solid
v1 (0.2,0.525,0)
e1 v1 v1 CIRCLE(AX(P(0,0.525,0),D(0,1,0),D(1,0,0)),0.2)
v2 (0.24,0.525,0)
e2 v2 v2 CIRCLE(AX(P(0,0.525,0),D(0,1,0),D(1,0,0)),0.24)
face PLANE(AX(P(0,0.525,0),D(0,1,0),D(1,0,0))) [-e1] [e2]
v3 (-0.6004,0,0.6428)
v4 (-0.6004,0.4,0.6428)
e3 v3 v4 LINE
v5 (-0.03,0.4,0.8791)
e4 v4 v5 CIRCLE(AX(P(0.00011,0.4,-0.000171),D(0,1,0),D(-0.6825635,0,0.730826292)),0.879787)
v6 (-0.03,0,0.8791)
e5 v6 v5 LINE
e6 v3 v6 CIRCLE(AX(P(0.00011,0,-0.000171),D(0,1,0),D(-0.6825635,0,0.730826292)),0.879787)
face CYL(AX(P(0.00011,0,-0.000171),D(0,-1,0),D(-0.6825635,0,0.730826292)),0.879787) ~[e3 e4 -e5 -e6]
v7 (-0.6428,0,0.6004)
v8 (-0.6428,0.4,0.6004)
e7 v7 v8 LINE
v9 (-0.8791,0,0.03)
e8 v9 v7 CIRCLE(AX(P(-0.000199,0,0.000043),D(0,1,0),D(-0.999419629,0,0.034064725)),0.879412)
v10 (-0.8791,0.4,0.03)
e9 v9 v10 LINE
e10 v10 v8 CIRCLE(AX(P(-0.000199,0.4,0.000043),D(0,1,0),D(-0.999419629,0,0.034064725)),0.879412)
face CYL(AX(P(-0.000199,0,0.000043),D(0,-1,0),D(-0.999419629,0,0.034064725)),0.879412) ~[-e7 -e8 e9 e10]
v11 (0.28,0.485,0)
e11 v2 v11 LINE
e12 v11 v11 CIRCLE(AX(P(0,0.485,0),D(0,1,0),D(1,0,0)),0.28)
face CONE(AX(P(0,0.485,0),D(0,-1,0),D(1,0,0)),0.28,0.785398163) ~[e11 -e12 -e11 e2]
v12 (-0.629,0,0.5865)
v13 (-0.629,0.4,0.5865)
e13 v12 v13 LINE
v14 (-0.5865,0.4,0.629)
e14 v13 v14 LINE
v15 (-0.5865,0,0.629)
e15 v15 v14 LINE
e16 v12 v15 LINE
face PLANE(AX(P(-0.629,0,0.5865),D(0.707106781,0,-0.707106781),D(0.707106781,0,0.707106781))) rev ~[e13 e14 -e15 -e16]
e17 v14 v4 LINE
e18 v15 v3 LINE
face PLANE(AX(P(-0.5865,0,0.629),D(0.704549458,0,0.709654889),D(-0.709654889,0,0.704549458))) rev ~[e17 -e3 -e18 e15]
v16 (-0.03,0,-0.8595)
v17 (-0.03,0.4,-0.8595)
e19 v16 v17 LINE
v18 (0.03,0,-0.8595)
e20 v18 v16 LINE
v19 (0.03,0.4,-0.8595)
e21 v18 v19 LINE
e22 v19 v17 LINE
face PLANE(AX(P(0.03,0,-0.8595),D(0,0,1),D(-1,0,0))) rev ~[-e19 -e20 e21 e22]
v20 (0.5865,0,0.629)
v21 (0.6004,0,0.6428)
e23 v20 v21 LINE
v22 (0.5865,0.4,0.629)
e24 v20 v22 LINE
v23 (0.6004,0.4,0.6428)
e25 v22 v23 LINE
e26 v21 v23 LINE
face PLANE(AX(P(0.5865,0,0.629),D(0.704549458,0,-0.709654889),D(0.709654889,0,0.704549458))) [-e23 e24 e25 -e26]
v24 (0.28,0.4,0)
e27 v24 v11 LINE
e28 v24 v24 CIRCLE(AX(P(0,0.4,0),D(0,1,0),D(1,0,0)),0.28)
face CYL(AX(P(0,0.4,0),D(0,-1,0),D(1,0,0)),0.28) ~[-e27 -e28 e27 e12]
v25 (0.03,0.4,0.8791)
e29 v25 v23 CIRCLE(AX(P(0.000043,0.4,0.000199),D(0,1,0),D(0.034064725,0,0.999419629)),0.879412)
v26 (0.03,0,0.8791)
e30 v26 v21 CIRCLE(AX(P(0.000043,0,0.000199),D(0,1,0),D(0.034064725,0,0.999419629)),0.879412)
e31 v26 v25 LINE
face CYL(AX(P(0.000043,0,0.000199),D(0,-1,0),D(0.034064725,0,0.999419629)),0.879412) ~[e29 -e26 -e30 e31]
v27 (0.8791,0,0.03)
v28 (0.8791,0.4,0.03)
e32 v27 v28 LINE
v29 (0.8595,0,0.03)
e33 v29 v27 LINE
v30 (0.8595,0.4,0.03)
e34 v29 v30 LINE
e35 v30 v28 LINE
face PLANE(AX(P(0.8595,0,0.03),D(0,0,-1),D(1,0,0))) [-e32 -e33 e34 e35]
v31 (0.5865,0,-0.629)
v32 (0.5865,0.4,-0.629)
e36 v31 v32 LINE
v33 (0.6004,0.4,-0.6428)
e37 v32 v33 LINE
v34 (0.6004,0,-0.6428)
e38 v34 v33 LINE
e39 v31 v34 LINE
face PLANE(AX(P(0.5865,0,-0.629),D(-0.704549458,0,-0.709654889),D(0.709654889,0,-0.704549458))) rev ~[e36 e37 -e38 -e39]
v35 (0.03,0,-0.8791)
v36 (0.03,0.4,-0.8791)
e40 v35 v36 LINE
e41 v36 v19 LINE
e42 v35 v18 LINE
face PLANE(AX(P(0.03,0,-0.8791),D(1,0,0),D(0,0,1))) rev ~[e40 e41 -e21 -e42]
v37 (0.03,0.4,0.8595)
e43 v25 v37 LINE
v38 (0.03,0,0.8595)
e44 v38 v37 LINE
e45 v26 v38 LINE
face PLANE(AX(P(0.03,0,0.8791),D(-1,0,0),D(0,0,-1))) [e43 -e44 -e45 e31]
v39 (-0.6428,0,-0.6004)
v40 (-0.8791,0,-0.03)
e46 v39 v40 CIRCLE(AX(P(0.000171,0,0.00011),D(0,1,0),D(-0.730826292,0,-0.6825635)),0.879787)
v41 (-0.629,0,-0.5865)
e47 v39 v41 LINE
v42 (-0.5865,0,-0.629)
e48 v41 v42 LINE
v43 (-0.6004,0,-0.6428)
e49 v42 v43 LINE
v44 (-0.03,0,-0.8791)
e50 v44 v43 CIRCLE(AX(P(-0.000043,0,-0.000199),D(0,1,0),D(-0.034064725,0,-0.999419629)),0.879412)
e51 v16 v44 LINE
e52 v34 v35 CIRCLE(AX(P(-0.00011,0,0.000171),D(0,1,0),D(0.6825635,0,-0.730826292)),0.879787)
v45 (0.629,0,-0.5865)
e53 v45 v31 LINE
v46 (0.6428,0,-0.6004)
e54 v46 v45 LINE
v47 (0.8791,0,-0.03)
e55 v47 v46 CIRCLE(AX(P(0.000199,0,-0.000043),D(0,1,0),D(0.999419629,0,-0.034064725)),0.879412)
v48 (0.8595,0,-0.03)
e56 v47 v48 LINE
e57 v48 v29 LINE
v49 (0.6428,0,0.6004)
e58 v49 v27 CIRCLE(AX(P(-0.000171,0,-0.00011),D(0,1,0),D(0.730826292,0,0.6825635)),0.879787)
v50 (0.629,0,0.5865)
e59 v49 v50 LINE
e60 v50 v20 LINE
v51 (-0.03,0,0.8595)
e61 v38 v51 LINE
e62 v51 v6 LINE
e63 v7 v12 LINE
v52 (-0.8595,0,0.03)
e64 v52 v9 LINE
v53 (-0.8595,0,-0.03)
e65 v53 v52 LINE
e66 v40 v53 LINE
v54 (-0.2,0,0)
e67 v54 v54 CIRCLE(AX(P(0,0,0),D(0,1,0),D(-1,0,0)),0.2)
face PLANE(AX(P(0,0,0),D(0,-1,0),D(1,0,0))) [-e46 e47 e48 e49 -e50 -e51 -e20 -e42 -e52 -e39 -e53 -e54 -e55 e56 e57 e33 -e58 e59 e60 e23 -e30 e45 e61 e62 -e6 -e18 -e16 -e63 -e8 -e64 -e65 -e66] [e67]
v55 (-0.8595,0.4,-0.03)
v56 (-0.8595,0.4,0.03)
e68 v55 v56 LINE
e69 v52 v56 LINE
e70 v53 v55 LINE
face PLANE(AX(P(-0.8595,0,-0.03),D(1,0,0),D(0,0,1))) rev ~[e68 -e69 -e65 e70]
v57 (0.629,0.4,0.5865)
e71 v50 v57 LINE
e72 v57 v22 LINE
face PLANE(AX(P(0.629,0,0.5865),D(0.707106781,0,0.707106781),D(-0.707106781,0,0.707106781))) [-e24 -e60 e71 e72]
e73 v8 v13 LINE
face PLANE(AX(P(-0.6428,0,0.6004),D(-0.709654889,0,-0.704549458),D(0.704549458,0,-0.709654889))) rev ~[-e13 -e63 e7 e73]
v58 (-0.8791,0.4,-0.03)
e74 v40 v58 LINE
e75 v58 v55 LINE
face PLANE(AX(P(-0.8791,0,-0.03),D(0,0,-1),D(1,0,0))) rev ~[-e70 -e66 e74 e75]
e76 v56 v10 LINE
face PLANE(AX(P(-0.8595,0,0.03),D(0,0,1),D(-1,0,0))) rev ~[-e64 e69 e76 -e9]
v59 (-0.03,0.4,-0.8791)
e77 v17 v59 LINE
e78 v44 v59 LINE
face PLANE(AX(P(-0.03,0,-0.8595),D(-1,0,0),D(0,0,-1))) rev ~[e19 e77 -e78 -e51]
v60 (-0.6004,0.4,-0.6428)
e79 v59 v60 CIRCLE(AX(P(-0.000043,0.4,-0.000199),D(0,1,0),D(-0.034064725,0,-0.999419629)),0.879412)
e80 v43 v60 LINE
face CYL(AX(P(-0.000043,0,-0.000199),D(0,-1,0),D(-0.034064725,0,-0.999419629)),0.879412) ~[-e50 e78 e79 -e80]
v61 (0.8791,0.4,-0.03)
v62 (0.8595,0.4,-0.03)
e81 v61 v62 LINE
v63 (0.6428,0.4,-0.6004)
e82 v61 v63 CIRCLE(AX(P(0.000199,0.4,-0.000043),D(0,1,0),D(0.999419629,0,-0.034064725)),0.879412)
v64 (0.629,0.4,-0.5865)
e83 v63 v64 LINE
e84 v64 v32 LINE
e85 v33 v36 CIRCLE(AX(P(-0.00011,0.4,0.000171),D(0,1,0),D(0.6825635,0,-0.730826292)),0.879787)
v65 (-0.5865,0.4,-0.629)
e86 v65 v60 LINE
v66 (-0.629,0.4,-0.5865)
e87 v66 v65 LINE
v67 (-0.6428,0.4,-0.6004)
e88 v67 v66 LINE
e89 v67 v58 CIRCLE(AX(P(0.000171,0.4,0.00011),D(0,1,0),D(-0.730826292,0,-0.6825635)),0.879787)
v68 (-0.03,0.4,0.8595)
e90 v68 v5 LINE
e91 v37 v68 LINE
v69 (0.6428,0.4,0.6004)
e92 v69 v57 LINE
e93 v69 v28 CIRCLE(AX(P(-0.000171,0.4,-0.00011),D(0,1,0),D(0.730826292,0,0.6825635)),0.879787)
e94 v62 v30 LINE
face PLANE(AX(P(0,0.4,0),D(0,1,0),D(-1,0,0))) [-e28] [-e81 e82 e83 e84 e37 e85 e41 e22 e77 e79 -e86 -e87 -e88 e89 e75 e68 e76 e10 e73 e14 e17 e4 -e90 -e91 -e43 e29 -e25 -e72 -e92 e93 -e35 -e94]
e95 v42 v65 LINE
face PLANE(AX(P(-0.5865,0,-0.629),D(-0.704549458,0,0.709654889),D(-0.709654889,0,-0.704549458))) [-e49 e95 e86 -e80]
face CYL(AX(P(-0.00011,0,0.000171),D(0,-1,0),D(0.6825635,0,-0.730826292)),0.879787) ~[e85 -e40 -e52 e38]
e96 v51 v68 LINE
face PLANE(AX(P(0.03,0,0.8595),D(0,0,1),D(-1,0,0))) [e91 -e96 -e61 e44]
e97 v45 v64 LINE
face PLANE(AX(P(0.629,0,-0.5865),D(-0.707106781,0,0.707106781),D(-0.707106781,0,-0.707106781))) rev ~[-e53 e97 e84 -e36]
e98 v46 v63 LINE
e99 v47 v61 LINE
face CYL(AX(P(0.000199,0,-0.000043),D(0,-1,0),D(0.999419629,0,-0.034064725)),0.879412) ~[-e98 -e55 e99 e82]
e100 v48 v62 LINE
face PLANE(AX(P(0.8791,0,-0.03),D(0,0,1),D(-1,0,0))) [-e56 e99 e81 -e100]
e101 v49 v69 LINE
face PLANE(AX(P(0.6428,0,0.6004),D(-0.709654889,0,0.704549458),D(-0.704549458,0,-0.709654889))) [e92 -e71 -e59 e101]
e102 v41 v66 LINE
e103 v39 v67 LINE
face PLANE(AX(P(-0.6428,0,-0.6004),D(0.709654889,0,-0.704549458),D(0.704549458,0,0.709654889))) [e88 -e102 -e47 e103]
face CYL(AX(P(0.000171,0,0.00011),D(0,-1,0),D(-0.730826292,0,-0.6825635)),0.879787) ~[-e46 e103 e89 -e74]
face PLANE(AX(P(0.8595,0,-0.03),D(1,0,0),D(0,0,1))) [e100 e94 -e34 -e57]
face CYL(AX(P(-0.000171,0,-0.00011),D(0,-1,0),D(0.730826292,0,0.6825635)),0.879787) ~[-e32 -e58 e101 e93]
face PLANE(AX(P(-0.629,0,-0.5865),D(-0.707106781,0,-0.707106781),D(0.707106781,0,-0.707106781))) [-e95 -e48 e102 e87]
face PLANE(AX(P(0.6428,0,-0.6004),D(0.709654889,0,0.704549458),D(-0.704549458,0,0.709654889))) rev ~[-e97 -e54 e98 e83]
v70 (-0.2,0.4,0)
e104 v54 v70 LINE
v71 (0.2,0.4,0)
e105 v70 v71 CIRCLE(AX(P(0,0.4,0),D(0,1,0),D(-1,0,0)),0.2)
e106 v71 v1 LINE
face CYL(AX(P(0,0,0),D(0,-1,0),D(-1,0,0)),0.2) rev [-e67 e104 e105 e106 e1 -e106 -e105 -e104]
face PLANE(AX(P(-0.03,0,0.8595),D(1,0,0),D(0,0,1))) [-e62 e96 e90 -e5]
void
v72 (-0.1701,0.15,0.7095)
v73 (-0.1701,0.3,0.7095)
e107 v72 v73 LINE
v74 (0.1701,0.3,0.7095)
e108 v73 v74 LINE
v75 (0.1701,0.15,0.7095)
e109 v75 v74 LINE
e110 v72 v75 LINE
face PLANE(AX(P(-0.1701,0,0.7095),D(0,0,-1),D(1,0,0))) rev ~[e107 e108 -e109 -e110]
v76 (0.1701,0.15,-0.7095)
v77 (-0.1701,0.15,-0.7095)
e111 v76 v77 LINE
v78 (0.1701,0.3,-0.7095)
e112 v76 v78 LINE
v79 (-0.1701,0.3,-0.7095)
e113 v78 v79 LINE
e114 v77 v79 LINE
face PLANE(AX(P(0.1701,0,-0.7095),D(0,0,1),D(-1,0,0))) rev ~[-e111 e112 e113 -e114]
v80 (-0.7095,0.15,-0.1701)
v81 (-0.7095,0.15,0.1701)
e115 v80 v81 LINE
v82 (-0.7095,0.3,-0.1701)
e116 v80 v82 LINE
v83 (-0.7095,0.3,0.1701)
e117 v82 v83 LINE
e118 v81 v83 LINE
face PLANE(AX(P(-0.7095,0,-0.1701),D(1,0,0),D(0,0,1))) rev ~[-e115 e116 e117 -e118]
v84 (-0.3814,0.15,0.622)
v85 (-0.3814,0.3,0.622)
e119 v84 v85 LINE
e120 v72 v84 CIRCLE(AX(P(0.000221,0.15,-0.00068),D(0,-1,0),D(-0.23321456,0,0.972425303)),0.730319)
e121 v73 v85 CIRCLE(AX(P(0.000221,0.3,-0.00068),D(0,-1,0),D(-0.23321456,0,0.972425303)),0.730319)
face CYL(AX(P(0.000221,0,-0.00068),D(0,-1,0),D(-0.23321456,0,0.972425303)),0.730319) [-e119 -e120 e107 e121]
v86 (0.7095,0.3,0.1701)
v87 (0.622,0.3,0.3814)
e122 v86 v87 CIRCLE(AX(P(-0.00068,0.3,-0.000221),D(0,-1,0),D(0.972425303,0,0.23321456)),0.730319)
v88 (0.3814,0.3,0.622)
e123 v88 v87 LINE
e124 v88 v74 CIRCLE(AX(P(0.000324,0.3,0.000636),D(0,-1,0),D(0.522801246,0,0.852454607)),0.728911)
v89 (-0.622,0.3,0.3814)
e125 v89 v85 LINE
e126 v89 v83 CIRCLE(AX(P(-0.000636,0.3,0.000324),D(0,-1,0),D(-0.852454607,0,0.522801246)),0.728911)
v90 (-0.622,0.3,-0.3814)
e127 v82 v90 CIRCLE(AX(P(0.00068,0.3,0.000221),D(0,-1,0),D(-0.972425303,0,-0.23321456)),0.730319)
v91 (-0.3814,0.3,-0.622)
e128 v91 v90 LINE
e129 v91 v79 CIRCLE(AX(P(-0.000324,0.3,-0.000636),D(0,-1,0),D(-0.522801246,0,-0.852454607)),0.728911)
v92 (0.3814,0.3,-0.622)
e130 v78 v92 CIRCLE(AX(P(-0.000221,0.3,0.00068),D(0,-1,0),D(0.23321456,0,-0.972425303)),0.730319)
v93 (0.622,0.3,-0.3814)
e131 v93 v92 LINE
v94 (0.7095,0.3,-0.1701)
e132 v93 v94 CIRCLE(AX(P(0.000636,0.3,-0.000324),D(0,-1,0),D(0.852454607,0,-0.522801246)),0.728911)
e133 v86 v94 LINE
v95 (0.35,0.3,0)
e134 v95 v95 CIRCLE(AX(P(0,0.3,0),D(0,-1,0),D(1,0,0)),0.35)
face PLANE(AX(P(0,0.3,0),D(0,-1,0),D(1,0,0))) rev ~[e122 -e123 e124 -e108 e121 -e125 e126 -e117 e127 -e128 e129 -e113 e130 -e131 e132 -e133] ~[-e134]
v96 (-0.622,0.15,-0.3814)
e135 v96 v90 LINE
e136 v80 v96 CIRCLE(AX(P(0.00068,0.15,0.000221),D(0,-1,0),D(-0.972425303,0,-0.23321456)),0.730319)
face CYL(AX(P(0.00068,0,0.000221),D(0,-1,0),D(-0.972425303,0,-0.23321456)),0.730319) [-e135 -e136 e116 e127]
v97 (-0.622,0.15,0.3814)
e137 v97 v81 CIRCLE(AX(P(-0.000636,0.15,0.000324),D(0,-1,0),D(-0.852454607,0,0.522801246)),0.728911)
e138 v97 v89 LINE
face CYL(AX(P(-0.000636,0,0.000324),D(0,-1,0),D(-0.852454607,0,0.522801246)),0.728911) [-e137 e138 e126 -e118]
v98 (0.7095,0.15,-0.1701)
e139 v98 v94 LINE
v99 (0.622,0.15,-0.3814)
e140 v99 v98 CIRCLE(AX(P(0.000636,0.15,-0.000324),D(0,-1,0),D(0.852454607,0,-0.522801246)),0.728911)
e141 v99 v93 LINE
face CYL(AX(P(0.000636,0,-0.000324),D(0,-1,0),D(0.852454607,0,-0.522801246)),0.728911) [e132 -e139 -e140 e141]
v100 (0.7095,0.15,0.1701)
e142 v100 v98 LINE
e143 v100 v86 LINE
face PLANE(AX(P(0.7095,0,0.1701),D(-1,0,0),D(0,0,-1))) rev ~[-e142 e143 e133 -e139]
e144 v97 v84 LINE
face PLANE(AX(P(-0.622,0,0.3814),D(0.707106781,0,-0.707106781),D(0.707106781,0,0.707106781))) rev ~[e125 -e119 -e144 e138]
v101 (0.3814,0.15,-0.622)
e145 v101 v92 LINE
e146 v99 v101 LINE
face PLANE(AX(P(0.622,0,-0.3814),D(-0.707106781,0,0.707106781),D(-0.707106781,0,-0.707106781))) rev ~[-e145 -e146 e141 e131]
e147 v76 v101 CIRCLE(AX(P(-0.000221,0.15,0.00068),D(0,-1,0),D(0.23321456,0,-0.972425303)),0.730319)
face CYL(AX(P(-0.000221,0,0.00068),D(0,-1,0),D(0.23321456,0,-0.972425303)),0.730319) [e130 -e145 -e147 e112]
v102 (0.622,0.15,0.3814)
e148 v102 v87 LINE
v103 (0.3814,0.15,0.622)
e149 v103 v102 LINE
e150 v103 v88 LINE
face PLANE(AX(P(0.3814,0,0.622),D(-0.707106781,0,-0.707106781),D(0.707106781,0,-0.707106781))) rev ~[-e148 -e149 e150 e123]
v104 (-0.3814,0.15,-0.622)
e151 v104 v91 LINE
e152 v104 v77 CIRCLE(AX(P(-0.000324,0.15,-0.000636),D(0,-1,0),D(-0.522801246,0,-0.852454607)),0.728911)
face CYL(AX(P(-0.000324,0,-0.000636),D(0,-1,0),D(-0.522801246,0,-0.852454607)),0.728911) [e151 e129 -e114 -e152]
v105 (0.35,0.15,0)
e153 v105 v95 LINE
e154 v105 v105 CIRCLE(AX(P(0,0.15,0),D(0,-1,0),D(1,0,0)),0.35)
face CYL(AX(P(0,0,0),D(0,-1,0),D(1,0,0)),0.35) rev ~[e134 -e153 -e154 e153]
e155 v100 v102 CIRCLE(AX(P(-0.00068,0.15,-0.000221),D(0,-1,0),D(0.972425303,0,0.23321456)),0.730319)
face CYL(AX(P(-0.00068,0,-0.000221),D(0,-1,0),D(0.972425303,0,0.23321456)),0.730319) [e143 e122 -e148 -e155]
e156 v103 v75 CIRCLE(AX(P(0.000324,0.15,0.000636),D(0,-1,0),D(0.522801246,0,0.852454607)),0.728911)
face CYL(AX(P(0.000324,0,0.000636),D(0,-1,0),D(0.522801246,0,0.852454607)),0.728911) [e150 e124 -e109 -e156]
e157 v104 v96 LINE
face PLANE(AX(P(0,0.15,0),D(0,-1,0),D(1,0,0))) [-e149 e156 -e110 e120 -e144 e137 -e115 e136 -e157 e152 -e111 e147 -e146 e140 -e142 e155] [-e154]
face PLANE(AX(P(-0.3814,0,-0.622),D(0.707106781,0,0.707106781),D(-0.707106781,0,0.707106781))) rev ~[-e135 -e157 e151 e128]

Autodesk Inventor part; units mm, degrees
ref_plane "YZ Plane" through (0, 0, 0) normal (1, 0, 0) x (0, 1, 0)
ref_plane "XZ Plane" through (0, 0, 0) normal (0, 1, 0) x (-1, 0, 0)
ref_plane "XY Plane" through (0, 0, 0) normal (0, 0, 1) x (1, 0, 0)
sketch "Boceto1" plane through (0, 0, 0) normal (0, 1, 0) x (-1, 0, 0)
  circle A0 centre (0, 0) radius 0.2442
  circle A1 centre (0, 0) radius 0.28
  line L0 (-0.03, -0.8791) -> (-0.03, -0.8595)
  line L1 (-0.03, -0.8595) -> (0.03, -0.8595)
  line L2 (0.03, -0.8595) -> (0.03, -0.8791)
  line L3 (-0.6428, -0.6004) -> (-0.629, -0.5865)
  line L4 (-0.629, -0.5865) -> (-0.5865, -0.629)
  line L5 (-0.5865, -0.629) -> (-0.6004, -0.6428)
  line L6 (-0.8791, -0.03) -> (-0.8595, -0.03)
  line L7 (-0.8595, -0.03) -> (-0.8595, 0.03)
  line L8 (-0.8595, 0.03) -> (-0.8791, 0.03)
  arc A2 (-0.8791, -0.03) -> (-0.6428, -0.6004) centre (0, 0) ccw
  arc A3 (-0.6004, -0.6428) -> (-0.03, -0.8791) centre (0, 0) ccw
  line L9 (0.03, -0.8791) -> (0.03, -0.8595)
  line L10 (0.03, -0.8595) -> (-0.03, -0.8595)
  line L11 (-0.03, -0.8595) -> (-0.03, -0.8791)
  line L12 (0.6428, -0.6004) -> (0.629, -0.5865)
  line L13 (0.629, -0.5865) -> (0.5865, -0.629)
  line L14 (0.5865, -0.629) -> (0.6004, -0.6428)
  line L15 (0.8791, -0.03) -> (0.8595, -0.03)
  line L16 (0.8595, -0.03) -> (0.8595, 0.03)
  line L17 (0.8595, 0.03) -> (0.8791, 0.03)
  arc A4 (0.6428, -0.6004) -> (0.8791, -0.03) centre (0, 0) ccw
  arc A5 (0.03, -0.8791) -> (0.6004, -0.6428) centre (0, 0) ccw
  line L18 (-0.03, 0.8791) -> (-0.03, 0.8595)
  line L19 (-0.03, 0.8595) -> (0.03, 0.8595)
  line L20 (0.03, 0.8595) -> (0.03, 0.8791)
  line L21 (-0.6428, 0.6004) -> (-0.629, 0.5865)
  line L22 (-0.629, 0.5865) -> (-0.5865, 0.629)
  line L23 (-0.5865, 0.629) -> (-0.6004, 0.6428)
  line L24 (-0.8791, 0.03) -> (-0.8595, 0.03)
  line L25 (-0.8595, 0.03) -> (-0.8595, -0.03)
  line L26 (-0.8595, -0.03) -> (-0.8791, -0.03)
  arc A6 (-0.6428, 0.6004) -> (-0.8791, 0.03) centre (0, 0) ccw
  arc A7 (-0.03, 0.8791) -> (-0.6004, 0.6428) centre (0, 0) ccw
  line L27 (0.03, 0.8791) -> (0.03, 0.8595)
  line L28 (0.03, 0.8595) -> (-0.03, 0.8595)
  line L29 (-0.03, 0.8595) -> (-0.03, 0.8791)
  line L30 (0.6428, 0.6004) -> (0.629, 0.5865)
  line L31 (0.629, 0.5865) -> (0.5865, 0.629)
  line L32 (0.5865, 0.629) -> (0.6004, 0.6428)
  line L33 (0.8791, 0.03) -> (0.8595, 0.03)
  line L34 (0.8595, 0.03) -> (0.8595, -0.03)
  line L35 (0.8595, -0.03) -> (0.8791, -0.03)
  arc A8 (0.8791, 0.03) -> (0.6428, 0.6004) centre (0, 0) ccw
  arc A9 (0.6004, 0.6428) -> (0.03, 0.8791) centre (0, 0) ccw
  circle A10 centre (0, 0) radius 0.2
  point P0 (0, 0)
extrude "Extrusión1" add sketch "Boceto1" along normal blind 0.4 contours A0 | A1 | A3 L5 L4 L3 A2 L6 L7 L8 A6 L21 L22 L23 A7 L18 L19 L20 A9 L32 L31 L30 A8 L17 L16 L15 A4 L12 L13 L14 A5 L2 L1 L0
sketch "Boceto2" plane through (0, 0.4, 0) normal (0, 1, 0) x (1, 0, 0)
  circle A0 centre (0, 0) radius 0.2442
  circle A1 centre (0, 0) radius 0.28
  line L0 (-0.03, -0.8791) -> (-0.03, -0.8595)
  line L1 (-0.03, -0.8595) -> (0.03, -0.8595)
  line L2 (0.03, -0.8595) -> (0.03, -0.8791)
  line L3 (-0.6428, -0.6004) -> (-0.629, -0.5865)
  line L4 (-0.629, -0.5865) -> (-0.5865, -0.629)
  line L5 (-0.5865, -0.629) -> (-0.6004, -0.6428)
  line L6 (-0.8791, -0.03) -> (-0.8595, -0.03)
  line L7 (-0.8595, -0.03) -> (-0.8595, 0.03)
  line L8 (-0.8595, 0.03) -> (-0.8791, 0.03)
  arc A2 (-0.8791, -0.03) -> (-0.6428, -0.6004) centre (0, 0) ccw
  arc A3 (-0.6004, -0.6428) -> (-0.03, -0.8791) centre (0, 0) ccw
  line L9 (0.03, -0.8791) -> (0.03, -0.8595)
  line L10 (0.03, -0.8595) -> (-0.03, -0.8595)
  line L11 (-0.03, -0.8595) -> (-0.03, -0.8791)
  line L12 (0.6428, -0.6004) -> (0.629, -0.5865)
  line L13 (0.629, -0.5865) -> (0.5865, -0.629)
  line L14 (0.5865, -0.629) -> (0.6004, -0.6428)
  line L15 (0.8791, -0.03) -> (0.8595, -0.03)
  line L16 (0.8595, -0.03) -> (0.8595, 0.03)
  line L17 (0.8595, 0.03) -> (0.8791, 0.03)
  arc A4 (0.6428, -0.6004) -> (0.8791, -0.03) centre (0, 0) ccw
  arc A5 (0.03, -0.8791) -> (0.6004, -0.6428) centre (0, 0) ccw
  line L18 (-0.03, 0.8791) -> (-0.03, 0.8595)
  line L19 (-0.03, 0.8595) -> (0.03, 0.8595)
  line L20 (0.03, 0.8595) -> (0.03, 0.8791)
  line L21 (-0.6428, 0.6004) -> (-0.629, 0.5865)
  line L22 (-0.629, 0.5865) -> (-0.5865, 0.629)
  line L23 (-0.5865, 0.629) -> (-0.6004, 0.6428)
  line L24 (-0.8791, 0.03) -> (-0.8595, 0.03)
  line L25 (-0.8595, 0.03) -> (-0.8595, -0.03)
  line L26 (-0.8595, -0.03) -> (-0.8791, -0.03)
  arc A6 (-0.6428, 0.6004) -> (-0.8791, 0.03) centre (0, 0) ccw
  arc A7 (-0.03, 0.8791) -> (-0.6004, 0.6428) centre (0, 0) ccw
  line L27 (0.03, 0.8791) -> (0.03, 0.8595)
  line L28 (0.03, 0.8595) -> (-0.03, 0.8595)
  line L29 (-0.03, 0.8595) -> (-0.03, 0.8791)
  line L30 (0.6428, 0.6004) -> (0.629, 0.5865)
  line L31 (0.629, 0.5865) -> (0.5865, 0.629)
  line L32 (0.5865, 0.629) -> (0.6004, 0.6428)
  line L33 (0.8791, 0.03) -> (0.8595, 0.03)
  line L34 (0.8595, 0.03) -> (0.8595, -0.03)
  line L35 (0.8595, -0.03) -> (0.8791, -0.03)
  arc A8 (0.8791, 0.03) -> (0.6428, 0.6004) centre (0, 0) ccw
  arc A9 (0.6004, 0.6428) -> (0.03, 0.8791) centre (0, 0) ccw
  circle A10 centre (0, 0) radius 0.2
extrude "Extrusión2" add sketch "Boceto2" along normal blind 0.125 contours A0 | A1
chamfer "Chaflán1" distance 0.04 angle 45 1 edges at (-0.28, 0.525, 0)
sketch "Boceto3" plane through (0, 0, 0) normal (0, -1, 0) x (1, 0, 0)
  circle A0 centre (0, 0) radius 0.2 projected
  circle A1 centre (0, 0) radius 0.2 projected
  line L0 (0.03, -0.8791) -> (0.03, -0.8595) projected
  arc A2 (0.03, -0.8791) -> (0.6004, -0.6428) centre (0, 0) ccw projected
  line L1 (0.5865, -0.629) -> (0.6004, -0.6428) projected
  line L2 (0.629, -0.5865) -> (0.5865, -0.629) projected
  line L3 (0.6428, -0.6004) -> (0.629, -0.5865) projected
  arc A3 (0.6428, -0.6004) -> (0.8791, -0.03) centre (0, 0) ccw projected
  line L4 (0.8595, -0.03) -> (0.8791, -0.03) projected
  line L5 (0.8595, 0.03) -> (0.8595, -0.03) projected
  line L6 (0.8791, 0.03) -> (0.8595, 0.03) projected
  arc A4 (0.8791, 0.03) -> (0.6428, 0.6004) centre (0, 0) ccw projected
  line L7 (0.629, 0.5865) -> (0.6428, 0.6004) projected
  line L8 (0.5865, 0.629) -> (0.629, 0.5865) projected
  line L9 (0.6004, 0.6428) -> (0.5865, 0.629) projected
  arc A5 (0.6004, 0.6428) -> (0.03, 0.8791) centre (0, 0) ccw projected
  line L10 (0.03, 0.8595) -> (0.03, 0.8791) projected
  line L11 (-0.03, 0.8595) -> (0.03, 0.8595) projected
  line L12 (-0.03, 0.8791) -> (-0.03, 0.8595) projected
  arc A6 (-0.03, 0.8791) -> (-0.6004, 0.6428) centre (0, 0) ccw projected
  line L13 (-0.5865, 0.629) -> (-0.6004, 0.6428) projected
  line L14 (-0.629, 0.5865) -> (-0.5865, 0.629) projected
  line L15 (-0.6428, 0.6004) -> (-0.629, 0.5865) projected
  arc A7 (-0.6428, 0.6004) -> (-0.8791, 0.03) centre (0, 0) ccw projected
  line L16 (-0.8595, 0.03) -> (-0.8791, 0.03) projected
  line L17 (-0.8595, -0.03) -> (-0.8595, 0.03) projected
  line L18 (-0.8791, -0.03) -> (-0.8595, -0.03) projected
  arc A8 (-0.8791, -0.03) -> (-0.6428, -0.6004) centre (0, 0) ccw projected
  line L19 (-0.629, -0.5865) -> (-0.6428, -0.6004) projected
  line L20 (-0.5865, -0.629) -> (-0.629, -0.5865) projected
  line L21 (-0.6004, -0.6428) -> (-0.5865, -0.629) projected
  arc A9 (-0.6004, -0.6428) -> (-0.03, -0.8791) centre (0, 0) ccw projected
  line L22 (-0.03, -0.8595) -> (-0.03, -0.8791) projected
  line L23 (0.03, -0.8595) -> (-0.03, -0.8595) projected
  arc A10 (0.7095, 0.1701) -> (0.622, 0.3814) centre (0, 0) ccw
  line L24 (0.7095, 0.1701) -> (0.7095, -0.1701)
  arc A11 (0.622, -0.3814) -> (0.7095, -0.1701) centre (0, 0) ccw
  line L25 (0.622, -0.3814) -> (0.3814, -0.622)
  arc A12 (0.1701, -0.7095) -> (0.3814, -0.622) centre (0, 0) ccw
  line L26 (0.1701, -0.7095) -> (-0.1701, -0.7095)
  arc A13 (-0.3814, -0.622) -> (-0.1701, -0.7095) centre (0, 0) ccw
  line L27 (-0.3814, -0.622) -> (-0.622, -0.3814)
  arc A14 (-0.7095, -0.1701) -> (-0.622, -0.3814) centre (0, 0) ccw
  line L28 (-0.7095, -0.1701) -> (-0.7095, 0.1701)
  arc A15 (-0.622, 0.3814) -> (-0.7095, 0.1701) centre (0, 0) ccw
  line L29 (-0.622, 0.3814) -> (-0.3814, 0.622)
  arc A16 (-0.1701, 0.7095) -> (-0.3814, 0.622) centre (0, 0) ccw
  line L30 (-0.1701, 0.7095) -> (0.1701, 0.7095)
  arc A17 (0.3814, 0.622) -> (0.1701, 0.7095) centre (0, 0) ccw
  line L31 (0.3814, 0.622) -> (0.622, 0.3814)
  circle A18 centre (0, 0) radius 0.35
  point P0 (0, 0)
  dimension "d7" = 0.15
  dimension "d8" = 0.15
extrude "Extrusión3" cut sketch "Boceto3" against normal blind 0.3 contours L24 A11 L25 A12 L26 A13 L27 A14 L28 A15 L29 A16 L30 A17 L31 A10
sketch "Boceto4" plane through (0, 0, 0) normal (0, -1, 0) x (1, 0, 0)
  circle A0 centre (0, 0) radius 0.35 projected
  arc A1 (0.7095, 0.1701) -> (0.622, 0.3814) centre (0, 0) ccw projected
  line L0 (0.3814, 0.622) -> (0.622, 0.3814) projected
  arc A2 (0.3814, 0.622) -> (0.1701, 0.7095) centre (0, 0) ccw projected
  line L1 (-0.1701, 0.7095) -> (0.1701, 0.7095) projected
  arc A3 (-0.1701, 0.7095) -> (-0.3814, 0.622) centre (0, 0) ccw projected
  line L2 (-0.622, 0.3814) -> (-0.3814, 0.622) projected
  arc A4 (-0.622, 0.3814) -> (-0.7095, 0.1701) centre (0, 0) ccw projected
  line L3 (-0.7095, -0.1701) -> (-0.7095, 0.1701) projected
  arc A5 (-0.7095, -0.1701) -> (-0.622, -0.3814) centre (0, 0) ccw projected
  line L4 (-0.3814, -0.622) -> (-0.622, -0.3814) projected
  arc A6 (-0.3814, -0.622) -> (-0.1701, -0.7095) centre (0, 0) ccw projected
  line L5 (0.1701, -0.7095) -> (-0.1701, -0.7095) projected
  arc A7 (0.1701, -0.7095) -> (0.3814, -0.622) centre (0, 0) ccw projected
  line L6 (0.622, -0.3814) -> (0.3814, -0.622) projected
  arc A8 (0.622, -0.3814) -> (0.7095, -0.1701) centre (0, 0) ccw projected
  line L7 (0.7095, 0.1701) -> (0.7095, -0.1701) projected
  point P0 (0, 0)
extrude "Extrusión4" add sketch "Boceto4" against normal blind 0.15
properties part number "ET2"
